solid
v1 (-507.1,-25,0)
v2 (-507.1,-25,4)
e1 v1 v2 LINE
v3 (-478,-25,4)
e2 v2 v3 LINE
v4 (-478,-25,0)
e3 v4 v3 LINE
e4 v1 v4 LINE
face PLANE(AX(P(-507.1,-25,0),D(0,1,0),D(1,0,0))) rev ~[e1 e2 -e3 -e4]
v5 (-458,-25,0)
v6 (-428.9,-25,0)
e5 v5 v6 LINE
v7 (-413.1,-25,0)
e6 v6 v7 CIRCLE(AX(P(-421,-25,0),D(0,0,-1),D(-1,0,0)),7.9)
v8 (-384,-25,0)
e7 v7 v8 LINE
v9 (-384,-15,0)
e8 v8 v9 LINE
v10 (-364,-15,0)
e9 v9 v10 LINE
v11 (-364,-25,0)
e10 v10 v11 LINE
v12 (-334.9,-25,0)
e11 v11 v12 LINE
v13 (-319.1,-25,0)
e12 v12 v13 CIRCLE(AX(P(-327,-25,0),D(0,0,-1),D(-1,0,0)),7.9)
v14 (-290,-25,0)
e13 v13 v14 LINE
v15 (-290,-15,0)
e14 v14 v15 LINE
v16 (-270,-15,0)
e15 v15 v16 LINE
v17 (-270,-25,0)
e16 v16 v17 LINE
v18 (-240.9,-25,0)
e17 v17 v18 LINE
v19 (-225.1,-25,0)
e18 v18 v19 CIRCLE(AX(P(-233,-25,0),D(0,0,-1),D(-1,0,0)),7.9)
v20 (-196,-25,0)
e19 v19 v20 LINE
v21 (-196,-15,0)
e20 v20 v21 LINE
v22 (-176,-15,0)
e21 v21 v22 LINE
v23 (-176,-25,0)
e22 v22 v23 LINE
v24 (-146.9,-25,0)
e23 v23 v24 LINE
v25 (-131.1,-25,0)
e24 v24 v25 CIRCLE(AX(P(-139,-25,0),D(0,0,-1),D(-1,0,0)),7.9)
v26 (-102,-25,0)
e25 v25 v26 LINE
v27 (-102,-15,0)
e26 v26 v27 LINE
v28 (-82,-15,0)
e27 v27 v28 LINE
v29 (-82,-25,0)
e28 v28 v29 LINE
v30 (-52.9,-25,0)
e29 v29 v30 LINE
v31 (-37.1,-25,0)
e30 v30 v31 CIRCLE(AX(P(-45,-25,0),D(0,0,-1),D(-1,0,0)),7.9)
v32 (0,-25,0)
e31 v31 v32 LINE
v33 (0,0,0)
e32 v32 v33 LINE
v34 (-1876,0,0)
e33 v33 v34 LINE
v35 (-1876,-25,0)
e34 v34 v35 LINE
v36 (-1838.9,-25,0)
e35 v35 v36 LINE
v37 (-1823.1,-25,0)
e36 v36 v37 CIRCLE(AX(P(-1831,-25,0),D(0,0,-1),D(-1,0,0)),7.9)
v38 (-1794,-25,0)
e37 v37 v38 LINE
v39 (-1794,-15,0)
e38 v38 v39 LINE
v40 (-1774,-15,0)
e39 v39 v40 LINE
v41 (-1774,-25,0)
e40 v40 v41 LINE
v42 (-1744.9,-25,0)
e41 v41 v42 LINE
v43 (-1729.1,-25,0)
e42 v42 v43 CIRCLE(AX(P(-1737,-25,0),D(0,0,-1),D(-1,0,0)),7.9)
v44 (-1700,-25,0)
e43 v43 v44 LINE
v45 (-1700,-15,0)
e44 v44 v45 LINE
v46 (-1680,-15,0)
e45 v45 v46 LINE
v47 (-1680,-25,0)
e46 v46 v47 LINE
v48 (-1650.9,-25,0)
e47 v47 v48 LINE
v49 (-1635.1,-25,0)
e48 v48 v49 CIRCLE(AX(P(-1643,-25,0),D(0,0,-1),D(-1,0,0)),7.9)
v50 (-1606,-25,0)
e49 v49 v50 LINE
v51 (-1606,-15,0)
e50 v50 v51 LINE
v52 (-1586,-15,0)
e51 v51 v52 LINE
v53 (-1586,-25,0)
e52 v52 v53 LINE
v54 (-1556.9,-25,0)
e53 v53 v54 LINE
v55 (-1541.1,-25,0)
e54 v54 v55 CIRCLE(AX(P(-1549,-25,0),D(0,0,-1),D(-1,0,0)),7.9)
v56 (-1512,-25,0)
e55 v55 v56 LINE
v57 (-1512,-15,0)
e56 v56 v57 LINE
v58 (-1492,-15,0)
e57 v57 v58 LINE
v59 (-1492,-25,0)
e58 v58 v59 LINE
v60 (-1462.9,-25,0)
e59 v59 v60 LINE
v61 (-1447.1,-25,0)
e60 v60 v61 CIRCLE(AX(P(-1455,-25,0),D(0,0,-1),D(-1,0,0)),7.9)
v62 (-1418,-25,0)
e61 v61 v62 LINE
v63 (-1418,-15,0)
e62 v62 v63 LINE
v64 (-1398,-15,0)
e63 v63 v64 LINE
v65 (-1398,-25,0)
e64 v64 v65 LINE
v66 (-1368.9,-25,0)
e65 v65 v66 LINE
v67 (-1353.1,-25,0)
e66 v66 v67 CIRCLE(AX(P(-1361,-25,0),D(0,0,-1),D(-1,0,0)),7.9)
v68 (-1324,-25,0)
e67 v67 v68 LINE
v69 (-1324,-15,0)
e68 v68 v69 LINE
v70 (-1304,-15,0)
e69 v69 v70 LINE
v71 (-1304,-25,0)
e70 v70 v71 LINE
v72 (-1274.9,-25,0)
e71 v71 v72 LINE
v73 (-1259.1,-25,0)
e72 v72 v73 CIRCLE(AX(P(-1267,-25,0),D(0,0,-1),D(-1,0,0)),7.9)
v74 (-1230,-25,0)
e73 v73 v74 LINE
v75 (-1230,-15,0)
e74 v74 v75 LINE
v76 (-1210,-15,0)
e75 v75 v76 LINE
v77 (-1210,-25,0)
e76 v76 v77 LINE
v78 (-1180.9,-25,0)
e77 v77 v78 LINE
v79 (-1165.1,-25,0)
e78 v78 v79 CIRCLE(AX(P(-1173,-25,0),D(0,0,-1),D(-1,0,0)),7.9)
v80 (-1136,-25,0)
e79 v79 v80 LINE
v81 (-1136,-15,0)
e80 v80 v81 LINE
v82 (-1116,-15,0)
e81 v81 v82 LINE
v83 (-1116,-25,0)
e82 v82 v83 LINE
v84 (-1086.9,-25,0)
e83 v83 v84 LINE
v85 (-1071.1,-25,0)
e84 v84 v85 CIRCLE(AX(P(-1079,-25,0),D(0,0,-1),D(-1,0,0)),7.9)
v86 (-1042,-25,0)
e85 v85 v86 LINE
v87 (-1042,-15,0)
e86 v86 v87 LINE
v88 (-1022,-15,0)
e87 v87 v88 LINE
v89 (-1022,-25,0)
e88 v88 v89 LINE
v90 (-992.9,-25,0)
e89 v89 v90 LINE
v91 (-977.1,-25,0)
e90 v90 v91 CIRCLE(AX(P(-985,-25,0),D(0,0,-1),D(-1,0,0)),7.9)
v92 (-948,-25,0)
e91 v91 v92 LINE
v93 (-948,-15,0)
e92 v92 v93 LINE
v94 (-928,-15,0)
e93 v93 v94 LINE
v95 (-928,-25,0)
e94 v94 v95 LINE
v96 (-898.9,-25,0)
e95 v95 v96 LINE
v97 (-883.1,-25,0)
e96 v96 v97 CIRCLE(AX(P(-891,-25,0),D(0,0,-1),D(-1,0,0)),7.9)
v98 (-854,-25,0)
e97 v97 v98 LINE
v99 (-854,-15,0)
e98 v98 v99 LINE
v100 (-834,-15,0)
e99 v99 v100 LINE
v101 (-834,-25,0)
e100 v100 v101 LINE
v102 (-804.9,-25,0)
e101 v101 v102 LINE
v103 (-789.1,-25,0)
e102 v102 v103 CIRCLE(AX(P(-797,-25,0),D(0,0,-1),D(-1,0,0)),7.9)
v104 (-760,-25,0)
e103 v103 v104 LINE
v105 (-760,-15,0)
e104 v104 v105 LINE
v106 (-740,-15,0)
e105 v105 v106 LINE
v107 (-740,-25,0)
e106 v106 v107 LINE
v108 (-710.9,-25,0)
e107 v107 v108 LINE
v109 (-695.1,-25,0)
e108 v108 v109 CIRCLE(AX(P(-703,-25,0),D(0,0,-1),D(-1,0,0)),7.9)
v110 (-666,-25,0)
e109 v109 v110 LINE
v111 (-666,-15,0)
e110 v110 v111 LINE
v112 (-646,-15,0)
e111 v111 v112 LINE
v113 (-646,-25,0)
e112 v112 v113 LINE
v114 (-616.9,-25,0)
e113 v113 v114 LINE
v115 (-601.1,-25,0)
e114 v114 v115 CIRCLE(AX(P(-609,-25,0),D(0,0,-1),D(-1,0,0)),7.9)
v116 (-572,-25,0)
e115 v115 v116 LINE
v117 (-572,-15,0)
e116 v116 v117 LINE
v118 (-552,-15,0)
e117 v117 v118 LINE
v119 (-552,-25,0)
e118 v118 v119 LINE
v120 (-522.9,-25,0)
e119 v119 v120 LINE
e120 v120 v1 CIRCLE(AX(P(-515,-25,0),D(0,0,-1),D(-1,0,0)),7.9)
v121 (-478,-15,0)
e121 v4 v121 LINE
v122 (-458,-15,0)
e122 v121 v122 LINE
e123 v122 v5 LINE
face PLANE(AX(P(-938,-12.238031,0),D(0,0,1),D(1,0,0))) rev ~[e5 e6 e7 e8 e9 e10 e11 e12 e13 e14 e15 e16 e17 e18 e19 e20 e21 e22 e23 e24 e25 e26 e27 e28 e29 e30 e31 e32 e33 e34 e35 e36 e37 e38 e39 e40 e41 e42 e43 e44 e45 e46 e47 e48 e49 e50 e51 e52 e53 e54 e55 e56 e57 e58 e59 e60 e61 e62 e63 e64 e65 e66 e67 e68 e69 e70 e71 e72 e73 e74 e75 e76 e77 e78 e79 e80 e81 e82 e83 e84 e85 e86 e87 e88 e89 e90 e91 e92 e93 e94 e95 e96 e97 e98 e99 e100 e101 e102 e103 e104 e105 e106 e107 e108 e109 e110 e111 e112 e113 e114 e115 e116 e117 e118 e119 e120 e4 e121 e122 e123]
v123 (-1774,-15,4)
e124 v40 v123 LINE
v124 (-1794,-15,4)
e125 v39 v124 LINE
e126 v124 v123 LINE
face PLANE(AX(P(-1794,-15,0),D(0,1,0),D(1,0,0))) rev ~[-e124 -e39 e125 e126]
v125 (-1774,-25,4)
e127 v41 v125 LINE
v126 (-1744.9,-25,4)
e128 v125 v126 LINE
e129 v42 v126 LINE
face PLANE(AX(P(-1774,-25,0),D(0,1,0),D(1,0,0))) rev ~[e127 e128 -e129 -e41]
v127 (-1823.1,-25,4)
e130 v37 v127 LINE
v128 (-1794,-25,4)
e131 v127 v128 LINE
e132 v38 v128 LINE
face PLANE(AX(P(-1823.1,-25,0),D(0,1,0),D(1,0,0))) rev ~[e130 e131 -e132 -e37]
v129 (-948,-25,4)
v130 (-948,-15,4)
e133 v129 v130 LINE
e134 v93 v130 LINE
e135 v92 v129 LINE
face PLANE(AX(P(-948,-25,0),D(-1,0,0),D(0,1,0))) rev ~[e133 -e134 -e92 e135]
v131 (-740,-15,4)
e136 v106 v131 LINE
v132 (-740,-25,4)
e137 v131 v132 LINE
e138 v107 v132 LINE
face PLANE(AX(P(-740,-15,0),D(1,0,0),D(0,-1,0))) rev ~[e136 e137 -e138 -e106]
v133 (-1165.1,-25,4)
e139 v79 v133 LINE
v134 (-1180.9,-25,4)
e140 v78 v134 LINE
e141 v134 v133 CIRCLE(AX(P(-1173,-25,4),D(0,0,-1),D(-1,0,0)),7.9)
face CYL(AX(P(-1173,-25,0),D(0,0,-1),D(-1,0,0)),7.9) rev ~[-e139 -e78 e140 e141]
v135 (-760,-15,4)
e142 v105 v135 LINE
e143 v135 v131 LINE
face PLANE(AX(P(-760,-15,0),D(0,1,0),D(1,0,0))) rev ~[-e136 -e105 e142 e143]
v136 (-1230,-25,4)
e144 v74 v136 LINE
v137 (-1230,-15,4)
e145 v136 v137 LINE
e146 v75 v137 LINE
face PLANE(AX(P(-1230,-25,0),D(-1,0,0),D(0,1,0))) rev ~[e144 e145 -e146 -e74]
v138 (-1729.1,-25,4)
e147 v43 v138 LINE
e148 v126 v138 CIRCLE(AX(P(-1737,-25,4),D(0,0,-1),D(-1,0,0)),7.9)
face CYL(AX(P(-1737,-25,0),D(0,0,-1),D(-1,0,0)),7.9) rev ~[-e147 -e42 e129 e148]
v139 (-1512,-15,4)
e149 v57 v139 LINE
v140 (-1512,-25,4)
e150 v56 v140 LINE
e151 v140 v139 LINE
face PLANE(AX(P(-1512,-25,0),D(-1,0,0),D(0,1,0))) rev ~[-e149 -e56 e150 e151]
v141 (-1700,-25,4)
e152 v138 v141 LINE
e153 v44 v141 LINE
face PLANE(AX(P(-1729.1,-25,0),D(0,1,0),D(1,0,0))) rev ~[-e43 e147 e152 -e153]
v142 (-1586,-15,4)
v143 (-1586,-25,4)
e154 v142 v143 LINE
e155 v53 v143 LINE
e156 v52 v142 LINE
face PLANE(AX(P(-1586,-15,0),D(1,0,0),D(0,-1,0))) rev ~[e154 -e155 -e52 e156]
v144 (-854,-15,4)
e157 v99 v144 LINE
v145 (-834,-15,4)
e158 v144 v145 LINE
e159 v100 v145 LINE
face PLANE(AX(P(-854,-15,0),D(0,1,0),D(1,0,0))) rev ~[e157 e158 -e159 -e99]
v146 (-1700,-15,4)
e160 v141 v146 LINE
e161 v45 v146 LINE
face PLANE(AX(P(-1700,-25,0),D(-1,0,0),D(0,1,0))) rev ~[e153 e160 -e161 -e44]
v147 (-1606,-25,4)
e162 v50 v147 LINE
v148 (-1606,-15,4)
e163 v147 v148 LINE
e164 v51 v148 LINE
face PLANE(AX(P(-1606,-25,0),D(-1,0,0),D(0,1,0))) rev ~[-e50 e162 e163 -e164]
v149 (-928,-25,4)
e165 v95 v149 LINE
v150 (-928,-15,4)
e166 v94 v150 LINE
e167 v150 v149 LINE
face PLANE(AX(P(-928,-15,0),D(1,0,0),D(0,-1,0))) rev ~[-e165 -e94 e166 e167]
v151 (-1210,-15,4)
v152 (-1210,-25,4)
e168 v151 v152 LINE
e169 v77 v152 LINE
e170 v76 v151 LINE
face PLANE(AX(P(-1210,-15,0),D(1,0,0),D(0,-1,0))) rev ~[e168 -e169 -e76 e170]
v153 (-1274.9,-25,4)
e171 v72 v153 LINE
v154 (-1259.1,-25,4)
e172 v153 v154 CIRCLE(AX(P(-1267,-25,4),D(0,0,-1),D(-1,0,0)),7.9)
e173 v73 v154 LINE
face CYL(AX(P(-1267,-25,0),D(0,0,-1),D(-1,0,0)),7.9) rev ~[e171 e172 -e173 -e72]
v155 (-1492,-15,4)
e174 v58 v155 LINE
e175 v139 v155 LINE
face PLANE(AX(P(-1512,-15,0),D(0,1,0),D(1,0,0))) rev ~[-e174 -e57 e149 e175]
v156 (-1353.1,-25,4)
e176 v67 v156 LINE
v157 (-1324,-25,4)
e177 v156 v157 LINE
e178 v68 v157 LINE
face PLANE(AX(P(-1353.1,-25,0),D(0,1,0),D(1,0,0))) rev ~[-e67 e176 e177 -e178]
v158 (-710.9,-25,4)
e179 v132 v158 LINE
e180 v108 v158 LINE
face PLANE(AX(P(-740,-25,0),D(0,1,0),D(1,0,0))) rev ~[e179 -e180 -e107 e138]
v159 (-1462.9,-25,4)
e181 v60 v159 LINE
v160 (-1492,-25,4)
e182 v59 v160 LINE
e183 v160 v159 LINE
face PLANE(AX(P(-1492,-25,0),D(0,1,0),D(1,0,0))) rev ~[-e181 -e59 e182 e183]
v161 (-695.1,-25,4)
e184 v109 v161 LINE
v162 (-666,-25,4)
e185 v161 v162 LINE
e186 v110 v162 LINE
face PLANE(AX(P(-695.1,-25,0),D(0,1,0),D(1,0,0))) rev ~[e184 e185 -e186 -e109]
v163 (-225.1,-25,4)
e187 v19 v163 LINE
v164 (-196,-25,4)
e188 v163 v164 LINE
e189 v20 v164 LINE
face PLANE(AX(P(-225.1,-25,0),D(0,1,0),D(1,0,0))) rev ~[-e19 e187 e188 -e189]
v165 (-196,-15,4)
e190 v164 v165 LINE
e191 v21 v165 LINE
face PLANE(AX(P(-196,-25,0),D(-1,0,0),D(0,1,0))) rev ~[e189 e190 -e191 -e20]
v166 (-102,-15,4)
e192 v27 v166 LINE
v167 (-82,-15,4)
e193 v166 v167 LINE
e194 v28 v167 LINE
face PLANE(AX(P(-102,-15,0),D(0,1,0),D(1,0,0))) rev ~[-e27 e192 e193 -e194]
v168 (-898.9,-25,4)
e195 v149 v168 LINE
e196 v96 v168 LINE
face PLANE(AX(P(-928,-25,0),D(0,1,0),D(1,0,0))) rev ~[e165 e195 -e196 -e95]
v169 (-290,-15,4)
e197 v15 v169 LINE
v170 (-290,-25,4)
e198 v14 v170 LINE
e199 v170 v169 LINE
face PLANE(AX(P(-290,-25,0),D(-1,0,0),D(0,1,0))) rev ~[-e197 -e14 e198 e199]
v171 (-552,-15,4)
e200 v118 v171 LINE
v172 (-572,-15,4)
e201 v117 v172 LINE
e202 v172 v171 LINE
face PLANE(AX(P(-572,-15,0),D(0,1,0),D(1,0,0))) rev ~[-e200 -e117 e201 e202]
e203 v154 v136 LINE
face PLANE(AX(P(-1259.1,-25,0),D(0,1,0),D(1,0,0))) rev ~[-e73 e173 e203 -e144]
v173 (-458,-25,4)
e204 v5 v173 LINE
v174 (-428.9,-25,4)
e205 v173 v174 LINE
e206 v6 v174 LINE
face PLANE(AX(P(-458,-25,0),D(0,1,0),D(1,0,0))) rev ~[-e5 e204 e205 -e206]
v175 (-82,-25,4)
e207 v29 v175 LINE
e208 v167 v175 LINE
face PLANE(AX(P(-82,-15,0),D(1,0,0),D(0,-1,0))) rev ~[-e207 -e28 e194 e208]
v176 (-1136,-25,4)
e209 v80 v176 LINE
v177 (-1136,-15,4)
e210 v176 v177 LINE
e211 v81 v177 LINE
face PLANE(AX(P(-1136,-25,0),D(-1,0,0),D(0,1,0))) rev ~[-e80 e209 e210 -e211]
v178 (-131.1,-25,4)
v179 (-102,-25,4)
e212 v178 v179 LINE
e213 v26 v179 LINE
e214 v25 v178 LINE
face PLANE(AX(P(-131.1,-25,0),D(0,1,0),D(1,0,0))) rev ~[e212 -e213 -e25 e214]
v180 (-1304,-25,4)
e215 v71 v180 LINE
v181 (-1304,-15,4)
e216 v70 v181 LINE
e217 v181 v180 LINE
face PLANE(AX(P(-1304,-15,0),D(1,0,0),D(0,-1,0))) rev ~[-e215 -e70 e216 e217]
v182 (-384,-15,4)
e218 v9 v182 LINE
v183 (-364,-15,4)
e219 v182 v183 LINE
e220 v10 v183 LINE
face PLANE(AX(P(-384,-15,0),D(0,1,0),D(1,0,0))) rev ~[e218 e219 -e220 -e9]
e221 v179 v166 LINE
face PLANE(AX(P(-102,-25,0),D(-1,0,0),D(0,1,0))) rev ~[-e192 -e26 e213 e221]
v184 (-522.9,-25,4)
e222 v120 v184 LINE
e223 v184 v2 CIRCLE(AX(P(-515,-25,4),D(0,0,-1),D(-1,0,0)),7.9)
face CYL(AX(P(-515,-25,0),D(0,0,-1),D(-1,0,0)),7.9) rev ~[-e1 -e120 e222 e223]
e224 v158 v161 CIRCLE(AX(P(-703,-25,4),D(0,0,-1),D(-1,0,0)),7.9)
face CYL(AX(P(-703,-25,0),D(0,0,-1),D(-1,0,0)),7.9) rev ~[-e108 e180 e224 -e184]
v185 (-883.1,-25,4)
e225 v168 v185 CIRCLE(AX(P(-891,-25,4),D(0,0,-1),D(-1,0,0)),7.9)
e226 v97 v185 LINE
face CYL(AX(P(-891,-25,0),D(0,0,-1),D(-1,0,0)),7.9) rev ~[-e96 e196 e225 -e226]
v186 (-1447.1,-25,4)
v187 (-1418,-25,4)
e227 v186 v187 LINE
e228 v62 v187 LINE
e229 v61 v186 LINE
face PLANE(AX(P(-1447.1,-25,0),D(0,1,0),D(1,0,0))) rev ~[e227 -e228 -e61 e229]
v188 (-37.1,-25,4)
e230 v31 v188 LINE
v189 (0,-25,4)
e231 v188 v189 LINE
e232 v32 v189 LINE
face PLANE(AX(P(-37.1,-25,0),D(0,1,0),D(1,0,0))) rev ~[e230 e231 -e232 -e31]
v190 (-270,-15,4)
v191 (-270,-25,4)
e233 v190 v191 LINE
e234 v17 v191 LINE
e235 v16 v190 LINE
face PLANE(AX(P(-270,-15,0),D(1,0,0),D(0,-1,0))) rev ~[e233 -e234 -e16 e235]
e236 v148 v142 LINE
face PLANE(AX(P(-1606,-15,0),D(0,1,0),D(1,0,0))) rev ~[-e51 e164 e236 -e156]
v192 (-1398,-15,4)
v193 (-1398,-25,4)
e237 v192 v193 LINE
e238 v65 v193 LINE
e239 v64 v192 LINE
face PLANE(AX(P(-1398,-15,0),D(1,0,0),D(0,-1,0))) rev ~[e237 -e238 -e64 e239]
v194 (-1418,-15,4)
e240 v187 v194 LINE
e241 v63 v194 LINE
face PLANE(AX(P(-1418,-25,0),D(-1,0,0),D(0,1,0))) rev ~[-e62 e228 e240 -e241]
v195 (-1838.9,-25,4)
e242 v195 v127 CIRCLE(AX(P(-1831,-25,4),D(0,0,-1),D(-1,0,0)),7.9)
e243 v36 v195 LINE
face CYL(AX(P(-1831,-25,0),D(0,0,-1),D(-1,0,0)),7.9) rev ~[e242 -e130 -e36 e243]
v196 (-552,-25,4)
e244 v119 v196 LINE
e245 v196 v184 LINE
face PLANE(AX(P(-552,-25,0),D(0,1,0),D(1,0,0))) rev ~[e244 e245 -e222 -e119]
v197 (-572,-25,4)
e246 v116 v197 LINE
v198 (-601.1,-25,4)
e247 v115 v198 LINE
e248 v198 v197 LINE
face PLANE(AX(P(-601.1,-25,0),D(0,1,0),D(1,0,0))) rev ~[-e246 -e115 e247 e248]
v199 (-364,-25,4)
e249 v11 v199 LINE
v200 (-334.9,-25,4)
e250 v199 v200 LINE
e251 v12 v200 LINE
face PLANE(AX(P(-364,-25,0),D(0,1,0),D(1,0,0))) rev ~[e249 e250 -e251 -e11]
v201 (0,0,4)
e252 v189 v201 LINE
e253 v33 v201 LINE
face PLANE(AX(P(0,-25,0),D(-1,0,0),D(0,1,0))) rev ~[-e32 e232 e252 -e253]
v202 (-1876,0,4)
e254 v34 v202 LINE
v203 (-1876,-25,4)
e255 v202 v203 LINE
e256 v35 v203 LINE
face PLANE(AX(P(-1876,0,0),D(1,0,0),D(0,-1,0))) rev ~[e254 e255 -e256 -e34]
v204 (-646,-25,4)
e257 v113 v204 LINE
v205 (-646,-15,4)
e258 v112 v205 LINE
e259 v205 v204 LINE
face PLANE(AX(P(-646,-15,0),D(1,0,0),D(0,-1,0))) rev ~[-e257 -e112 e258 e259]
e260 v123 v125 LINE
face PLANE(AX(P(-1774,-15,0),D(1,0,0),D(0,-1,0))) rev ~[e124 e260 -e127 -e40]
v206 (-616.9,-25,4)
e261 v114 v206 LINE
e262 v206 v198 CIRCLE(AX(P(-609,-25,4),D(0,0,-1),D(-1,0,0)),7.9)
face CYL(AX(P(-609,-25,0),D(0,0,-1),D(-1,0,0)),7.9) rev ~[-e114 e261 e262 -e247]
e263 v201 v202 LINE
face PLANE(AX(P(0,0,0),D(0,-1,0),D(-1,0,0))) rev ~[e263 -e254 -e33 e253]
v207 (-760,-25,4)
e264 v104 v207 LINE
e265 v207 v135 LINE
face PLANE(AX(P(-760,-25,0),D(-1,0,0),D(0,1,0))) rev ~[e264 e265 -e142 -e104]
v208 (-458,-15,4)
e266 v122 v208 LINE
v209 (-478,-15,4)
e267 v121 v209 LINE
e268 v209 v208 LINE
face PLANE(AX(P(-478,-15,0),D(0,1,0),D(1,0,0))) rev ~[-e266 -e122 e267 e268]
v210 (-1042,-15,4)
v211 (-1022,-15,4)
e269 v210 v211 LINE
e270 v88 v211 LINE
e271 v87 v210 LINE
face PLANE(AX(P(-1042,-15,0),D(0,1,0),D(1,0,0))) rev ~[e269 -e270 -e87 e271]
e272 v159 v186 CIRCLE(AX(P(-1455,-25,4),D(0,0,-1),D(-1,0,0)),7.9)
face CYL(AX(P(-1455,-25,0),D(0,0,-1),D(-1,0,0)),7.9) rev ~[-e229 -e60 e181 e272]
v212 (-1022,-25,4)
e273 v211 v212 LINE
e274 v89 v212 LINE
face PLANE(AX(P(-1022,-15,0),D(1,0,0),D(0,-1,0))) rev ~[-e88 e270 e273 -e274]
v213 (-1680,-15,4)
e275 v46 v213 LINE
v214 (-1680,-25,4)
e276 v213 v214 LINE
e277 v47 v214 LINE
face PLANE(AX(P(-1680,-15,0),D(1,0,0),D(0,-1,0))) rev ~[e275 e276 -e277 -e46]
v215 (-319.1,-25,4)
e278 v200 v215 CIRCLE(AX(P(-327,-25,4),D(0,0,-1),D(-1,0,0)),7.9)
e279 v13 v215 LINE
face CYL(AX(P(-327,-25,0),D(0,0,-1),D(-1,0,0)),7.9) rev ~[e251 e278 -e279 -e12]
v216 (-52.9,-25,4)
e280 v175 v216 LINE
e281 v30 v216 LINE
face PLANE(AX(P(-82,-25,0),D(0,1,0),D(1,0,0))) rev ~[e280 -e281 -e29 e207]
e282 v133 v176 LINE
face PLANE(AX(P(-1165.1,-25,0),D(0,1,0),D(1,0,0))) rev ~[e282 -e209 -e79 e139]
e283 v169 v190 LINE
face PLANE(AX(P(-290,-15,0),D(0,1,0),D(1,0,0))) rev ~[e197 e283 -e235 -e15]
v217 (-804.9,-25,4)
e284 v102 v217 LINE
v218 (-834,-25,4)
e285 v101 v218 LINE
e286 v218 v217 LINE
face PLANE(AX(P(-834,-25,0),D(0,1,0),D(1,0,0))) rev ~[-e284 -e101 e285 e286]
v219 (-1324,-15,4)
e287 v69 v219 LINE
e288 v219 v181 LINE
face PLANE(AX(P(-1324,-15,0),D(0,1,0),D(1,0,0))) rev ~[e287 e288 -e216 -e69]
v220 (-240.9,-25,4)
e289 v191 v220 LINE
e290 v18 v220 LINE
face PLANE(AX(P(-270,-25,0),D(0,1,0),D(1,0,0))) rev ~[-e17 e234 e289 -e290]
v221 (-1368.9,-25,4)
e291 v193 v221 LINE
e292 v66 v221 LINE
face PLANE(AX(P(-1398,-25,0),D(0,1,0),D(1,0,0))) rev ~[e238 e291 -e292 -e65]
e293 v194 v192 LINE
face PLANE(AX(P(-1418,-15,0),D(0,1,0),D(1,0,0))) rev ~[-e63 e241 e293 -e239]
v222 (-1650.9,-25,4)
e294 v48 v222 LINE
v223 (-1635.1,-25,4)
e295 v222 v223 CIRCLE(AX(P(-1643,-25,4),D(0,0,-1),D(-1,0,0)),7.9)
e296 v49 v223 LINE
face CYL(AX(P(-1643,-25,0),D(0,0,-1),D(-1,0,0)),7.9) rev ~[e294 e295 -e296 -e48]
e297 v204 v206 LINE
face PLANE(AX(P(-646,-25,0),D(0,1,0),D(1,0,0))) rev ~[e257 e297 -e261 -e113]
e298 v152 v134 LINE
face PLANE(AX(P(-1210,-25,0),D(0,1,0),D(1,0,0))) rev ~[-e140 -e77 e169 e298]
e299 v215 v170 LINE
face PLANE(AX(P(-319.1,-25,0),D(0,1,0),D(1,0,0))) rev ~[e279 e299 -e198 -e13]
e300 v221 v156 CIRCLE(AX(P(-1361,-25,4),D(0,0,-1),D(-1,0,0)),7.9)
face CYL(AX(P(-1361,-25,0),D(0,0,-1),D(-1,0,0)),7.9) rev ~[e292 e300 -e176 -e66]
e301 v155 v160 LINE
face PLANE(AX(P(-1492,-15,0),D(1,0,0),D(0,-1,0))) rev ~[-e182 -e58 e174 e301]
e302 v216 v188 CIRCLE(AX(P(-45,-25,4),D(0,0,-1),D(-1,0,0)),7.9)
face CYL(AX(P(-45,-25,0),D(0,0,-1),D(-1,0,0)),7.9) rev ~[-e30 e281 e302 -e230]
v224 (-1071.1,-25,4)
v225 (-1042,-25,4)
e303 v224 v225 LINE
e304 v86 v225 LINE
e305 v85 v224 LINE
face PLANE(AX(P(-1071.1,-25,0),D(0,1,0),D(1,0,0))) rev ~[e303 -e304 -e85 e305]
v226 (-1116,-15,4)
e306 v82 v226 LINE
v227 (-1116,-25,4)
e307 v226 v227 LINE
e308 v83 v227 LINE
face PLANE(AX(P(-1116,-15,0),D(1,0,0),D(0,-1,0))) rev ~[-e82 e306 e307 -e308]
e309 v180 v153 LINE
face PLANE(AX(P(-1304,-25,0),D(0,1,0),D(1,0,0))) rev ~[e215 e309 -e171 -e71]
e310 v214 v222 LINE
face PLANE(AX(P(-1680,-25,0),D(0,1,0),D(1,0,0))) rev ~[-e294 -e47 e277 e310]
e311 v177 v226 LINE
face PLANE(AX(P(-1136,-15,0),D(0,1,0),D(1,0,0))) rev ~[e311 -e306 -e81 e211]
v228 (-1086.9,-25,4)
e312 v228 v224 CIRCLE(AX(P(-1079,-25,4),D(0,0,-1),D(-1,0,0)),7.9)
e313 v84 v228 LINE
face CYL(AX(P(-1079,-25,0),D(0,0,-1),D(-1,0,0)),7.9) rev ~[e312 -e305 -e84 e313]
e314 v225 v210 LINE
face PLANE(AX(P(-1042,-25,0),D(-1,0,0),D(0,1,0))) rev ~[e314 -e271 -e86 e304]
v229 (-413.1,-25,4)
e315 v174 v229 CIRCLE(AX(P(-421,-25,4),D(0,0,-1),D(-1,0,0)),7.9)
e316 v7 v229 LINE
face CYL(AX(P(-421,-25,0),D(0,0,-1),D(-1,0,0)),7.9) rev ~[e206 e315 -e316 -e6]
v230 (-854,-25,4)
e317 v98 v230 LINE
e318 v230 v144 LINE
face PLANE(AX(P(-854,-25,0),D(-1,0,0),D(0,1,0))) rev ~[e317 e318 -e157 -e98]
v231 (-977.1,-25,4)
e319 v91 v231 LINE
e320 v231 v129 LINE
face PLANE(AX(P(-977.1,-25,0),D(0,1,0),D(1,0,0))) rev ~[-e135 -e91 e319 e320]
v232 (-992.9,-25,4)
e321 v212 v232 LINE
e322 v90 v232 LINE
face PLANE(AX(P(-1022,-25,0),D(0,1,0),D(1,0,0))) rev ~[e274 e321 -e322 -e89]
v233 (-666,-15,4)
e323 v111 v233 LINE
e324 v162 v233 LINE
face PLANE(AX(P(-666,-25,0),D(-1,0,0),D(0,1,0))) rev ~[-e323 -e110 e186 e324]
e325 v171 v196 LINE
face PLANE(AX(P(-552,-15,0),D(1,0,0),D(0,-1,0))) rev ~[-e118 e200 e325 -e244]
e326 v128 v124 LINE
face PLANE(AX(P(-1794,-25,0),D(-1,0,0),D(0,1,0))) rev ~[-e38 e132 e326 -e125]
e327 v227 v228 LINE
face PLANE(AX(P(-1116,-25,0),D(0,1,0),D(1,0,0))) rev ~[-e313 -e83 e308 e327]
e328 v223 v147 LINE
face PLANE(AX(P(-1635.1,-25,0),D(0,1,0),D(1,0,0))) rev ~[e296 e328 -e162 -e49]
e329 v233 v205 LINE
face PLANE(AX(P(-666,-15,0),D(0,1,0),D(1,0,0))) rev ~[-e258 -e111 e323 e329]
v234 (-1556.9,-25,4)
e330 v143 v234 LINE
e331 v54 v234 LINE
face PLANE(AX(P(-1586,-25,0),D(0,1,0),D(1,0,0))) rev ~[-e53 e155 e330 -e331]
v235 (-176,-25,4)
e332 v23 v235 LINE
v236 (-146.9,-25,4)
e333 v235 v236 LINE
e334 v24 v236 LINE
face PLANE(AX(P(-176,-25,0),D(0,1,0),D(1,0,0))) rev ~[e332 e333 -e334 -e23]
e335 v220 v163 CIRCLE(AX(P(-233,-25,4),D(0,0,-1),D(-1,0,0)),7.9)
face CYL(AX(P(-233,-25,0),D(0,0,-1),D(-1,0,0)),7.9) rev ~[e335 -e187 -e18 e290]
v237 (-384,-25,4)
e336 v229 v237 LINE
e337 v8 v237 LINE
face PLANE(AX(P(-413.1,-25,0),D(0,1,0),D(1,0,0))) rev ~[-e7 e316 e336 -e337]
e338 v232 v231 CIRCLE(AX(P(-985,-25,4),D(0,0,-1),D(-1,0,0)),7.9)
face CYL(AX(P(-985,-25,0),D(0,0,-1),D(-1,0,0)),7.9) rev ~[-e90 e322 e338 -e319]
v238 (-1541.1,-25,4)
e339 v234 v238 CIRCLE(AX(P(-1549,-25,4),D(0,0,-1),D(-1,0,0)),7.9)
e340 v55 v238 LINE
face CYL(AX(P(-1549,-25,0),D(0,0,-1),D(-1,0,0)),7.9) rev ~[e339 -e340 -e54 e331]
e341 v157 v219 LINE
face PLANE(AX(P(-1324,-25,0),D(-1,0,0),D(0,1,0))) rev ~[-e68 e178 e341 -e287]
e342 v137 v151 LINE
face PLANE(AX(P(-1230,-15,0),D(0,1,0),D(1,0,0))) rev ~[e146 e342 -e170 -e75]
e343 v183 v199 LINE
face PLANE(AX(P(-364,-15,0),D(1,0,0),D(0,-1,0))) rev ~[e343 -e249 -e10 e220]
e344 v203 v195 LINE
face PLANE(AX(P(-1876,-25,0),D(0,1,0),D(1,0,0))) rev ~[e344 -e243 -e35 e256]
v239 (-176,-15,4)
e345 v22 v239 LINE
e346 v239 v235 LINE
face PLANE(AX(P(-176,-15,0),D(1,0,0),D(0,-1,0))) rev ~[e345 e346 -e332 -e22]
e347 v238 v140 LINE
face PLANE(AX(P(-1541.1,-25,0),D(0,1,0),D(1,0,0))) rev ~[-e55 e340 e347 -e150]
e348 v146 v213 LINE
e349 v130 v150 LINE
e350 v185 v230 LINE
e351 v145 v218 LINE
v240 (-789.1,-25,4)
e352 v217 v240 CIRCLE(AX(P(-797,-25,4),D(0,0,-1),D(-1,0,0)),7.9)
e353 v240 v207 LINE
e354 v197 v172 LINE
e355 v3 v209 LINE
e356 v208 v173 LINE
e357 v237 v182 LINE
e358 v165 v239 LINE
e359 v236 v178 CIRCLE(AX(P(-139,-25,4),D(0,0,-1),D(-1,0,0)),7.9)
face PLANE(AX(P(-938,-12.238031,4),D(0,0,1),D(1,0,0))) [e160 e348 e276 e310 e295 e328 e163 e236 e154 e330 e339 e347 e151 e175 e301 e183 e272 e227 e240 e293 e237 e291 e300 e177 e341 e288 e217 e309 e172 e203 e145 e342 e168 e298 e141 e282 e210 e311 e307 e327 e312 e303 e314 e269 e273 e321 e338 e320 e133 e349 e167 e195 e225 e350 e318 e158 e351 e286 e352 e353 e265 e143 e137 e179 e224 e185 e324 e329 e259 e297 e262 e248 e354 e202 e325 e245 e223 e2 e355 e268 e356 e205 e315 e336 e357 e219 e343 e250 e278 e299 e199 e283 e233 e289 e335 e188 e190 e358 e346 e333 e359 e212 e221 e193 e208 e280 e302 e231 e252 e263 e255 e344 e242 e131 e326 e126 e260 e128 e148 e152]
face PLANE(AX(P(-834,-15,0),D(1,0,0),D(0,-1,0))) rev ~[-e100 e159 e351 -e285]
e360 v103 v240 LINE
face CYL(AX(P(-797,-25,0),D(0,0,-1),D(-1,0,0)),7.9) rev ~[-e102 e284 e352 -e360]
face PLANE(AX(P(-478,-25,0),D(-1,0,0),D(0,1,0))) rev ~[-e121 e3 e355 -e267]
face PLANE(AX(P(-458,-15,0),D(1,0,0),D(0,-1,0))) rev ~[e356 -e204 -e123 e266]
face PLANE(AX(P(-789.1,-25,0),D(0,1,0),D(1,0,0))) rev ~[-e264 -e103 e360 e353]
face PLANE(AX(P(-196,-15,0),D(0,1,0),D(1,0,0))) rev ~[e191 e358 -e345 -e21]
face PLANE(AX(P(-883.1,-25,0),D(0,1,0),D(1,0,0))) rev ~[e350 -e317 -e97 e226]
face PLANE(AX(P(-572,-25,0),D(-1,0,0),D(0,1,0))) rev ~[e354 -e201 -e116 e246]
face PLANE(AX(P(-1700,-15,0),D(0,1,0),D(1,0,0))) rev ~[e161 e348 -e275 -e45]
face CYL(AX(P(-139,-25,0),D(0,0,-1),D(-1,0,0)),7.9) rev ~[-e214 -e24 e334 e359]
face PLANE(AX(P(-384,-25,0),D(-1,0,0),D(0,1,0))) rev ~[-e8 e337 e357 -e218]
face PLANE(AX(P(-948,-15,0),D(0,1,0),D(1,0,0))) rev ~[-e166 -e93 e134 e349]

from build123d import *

# Parameters (mm, degrees)
BOSS_EXTRUDE1_DEPTH = 4


with BuildPart() as part:
    # Sketch1 → Boss-Extrude1 (new body)
    with BuildSketch(Plane.XY):
        with BuildLine():
            Line((0, 0), (-131.1, 0))
            Line((-131.1, 0), (-1876, 0))
            Line((-1876, 0), (-1876, -25))
            Line((-1876, -25), (-1868, -25))
            Line((-1868, -25), (-1838.9, -25))
            ThreePointArc((-1838.9, -25), (-1831, -17.1), (-1823.1, -25))
            Line((-1823.1, -25), (-1794, -25))
            Line((-1794, -25), (-1794, -15))
            Line((-1794, -15), (-1774, -15))
            Line((-1774, -15), (-1774, -25))
            Line((-1774, -25), (-1744.9, -25))
            ThreePointArc((-1744.9, -25), (-1737, -17.1), (-1729.1, -25))
            Line((-1729.1, -25), (-1700, -25))
            Line((-1700, -25), (-1700, -15))
            Line((-1700, -15), (-1680, -15))
            Line((-1680, -15), (-1680, -25))
            Line((-1680, -25), (-1650.9, -25))
            ThreePointArc((-1650.9, -25), (-1643, -17.1), (-1635.1, -25))
            Line((-1635.1, -25), (-1606, -25))
            Line((-1606, -25), (-1606, -15))
            Line((-1606, -15), (-1586, -15))
            Line((-1586, -15), (-1586, -25))
            Line((-1586, -25), (-1556.9, -25))
            ThreePointArc((-1556.9, -25), (-1549, -17.1), (-1541.1, -25))
            Line((-1541.1, -25), (-1512, -25))
            Line((-1512, -25), (-1512, -15))
            Line((-1512, -15), (-1492, -15))
            Line((-1492, -15), (-1492, -25))
            Line((-1492, -25), (-1462.9, -25))
            ThreePointArc((-1462.9, -25), (-1455, -17.1), (-1447.1, -25))
            Line((-1447.1, -25), (-1418, -25))
            Line((-1418, -25), (-1418, -15))
            Line((-1418, -15), (-1398, -15))
            Line((-1398, -15), (-1398, -25))
            Line((-1398, -25), (-1368.9, -25))
            ThreePointArc((-1368.9, -25), (-1361, -17.1), (-1353.1, -25))
            Line((-1353.1, -25), (-1324, -25))
            Line((-1324, -25), (-1324, -15))
            Line((-1324, -15), (-1304, -15))
            Line((-1304, -15), (-1304, -25))
            Line((-1304, -25), (-1274.9, -25))
            ThreePointArc((-1274.9, -25), (-1267, -17.1), (-1259.1, -25))
            Line((-1259.1, -25), (-1230, -25))
            Line((-1230, -25), (-1230, -15))
            Line((-1230, -15), (-1210, -15))
            Line((-1210, -15), (-1210, -25))
            Line((-1210, -25), (-1180.9, -25))
            ThreePointArc((-1180.9, -25), (-1173, -17.1), (-1165.1, -25))
            Line((-1165.1, -25), (-1136, -25))
            Line((-1136, -25), (-1136, -15))
            Line((-1136, -15), (-1116, -15))
            Line((-1116, -15), (-1116, -25))
            Line((-1116, -25), (-1086.9, -25))
            ThreePointArc((-1086.9, -25), (-1079, -17.1), (-1071.1, -25))
            Line((-1071.1, -25), (-1042, -25))
            Line((-1042, -25), (-1042, -15))
            Line((-1042, -15), (-1022, -15))
            Line((-1022, -15), (-1022, -25))
            Line((-1022, -25), (-992.9, -25))
            ThreePointArc((-992.9, -25), (-985, -17.1), (-977.1, -25))
            Line((-977.1, -25), (-948, -25))
            Line((-948, -25), (-948, -15))
            Line((-948, -15), (-928, -15))
            Line((-928, -15), (-928, -25))
            Line((-928, -25), (-898.9, -25))
            ThreePointArc((-898.9, -25), (-891, -17.1), (-883.1, -25))
            Line((-883.1, -25), (-854, -25))
            Line((-854, -25), (-854, -15))
            Line((-854, -15), (-834, -15))
            Line((-834, -15), (-834, -25))
            Line((-834, -25), (-804.9, -25))
            ThreePointArc((-804.9, -25), (-797, -17.1), (-789.1, -25))
            Line((-789.1, -25), (-760, -25))
            Line((-760, -25), (-760, -15))
            Line((-760, -15), (-740, -15))
            Line((-740, -15), (-740, -25))
            Line((-740, -25), (-710.9, -25))
            ThreePointArc((-710.9, -25), (-703, -17.1), (-695.1, -25))
            Line((-695.1, -25), (-666, -25))
            Line((-666, -25), (-666, -15))
            Line((-666, -15), (-646, -15))
            Line((-646, -15), (-646, -25))
            Line((-646, -25), (-616.9, -25))
            ThreePointArc((-616.9, -25), (-609, -17.1), (-601.1, -25))
            Line((-601.1, -25), (-572, -25))
            Line((-572, -25), (-572, -15))
            Line((-572, -15), (-552, -15))
            Line((-552, -15), (-552, -25))
            Line((-552, -25), (-522.9, -25))
            ThreePointArc((-522.9, -25), (-515, -17.1), (-507.1, -25))
            Line((-507.1, -25), (-478, -25))
            Line((-478, -25), (-478, -15))
            Line((-478, -15), (-458, -15))
            Line((-458, -15), (-458, -25))
            Line((-458, -25), (-428.9, -25))
            ThreePointArc((-428.9, -25), (-421, -17.1), (-413.1, -25))
            Line((-413.1, -25), (-384, -25))
            Line((-384, -25), (-384, -15))
            Line((-384, -15), (-364, -15))
            Line((-364, -15), (-364, -25))
            Line((-364, -25), (-334.9, -25))
            ThreePointArc((-334.9, -25), (-327, -17.1), (-319.1, -25))
            Line((-319.1, -25), (-290, -25))
            Line((-290, -25), (-290, -15))
            Line((-290, -15), (-270, -15))
            Line((-270, -15), (-270, -25))
            Line((-270, -25), (-240.9, -25))
            ThreePointArc((-240.9, -25), (-233, -17.1), (-225.1, -25))
            Line((-225.1, -25), (-196, -25))
            Line((-196, -25), (-196, -15))
            Line((-196, -15), (-176, -15))
            Line((-176, -15), (-176, -25))
            Line((-176, -25), (-146.9, -25))
            ThreePointArc((-146.9, -25), (-139, -17.1), (-131.1, -25))
            Line((-131.1, -25), (-102, -25))
            Line((-102, -25), (-102, -15))
            Line((-102, -15), (-82, -15))
            Line((-82, -15), (-82, -25))
            Line((-82, -25), (-52.9, -25))
            ThreePointArc((-52.9, -25), (-45, -17.1), (-37.1, -25))
            Line((-37.1, -25), (0, -25))
            Line((0, -25), (0, 0))
        make_face()
    extrude(amount=BOSS_EXTRUDE1_DEPTH)


solid = part.part
